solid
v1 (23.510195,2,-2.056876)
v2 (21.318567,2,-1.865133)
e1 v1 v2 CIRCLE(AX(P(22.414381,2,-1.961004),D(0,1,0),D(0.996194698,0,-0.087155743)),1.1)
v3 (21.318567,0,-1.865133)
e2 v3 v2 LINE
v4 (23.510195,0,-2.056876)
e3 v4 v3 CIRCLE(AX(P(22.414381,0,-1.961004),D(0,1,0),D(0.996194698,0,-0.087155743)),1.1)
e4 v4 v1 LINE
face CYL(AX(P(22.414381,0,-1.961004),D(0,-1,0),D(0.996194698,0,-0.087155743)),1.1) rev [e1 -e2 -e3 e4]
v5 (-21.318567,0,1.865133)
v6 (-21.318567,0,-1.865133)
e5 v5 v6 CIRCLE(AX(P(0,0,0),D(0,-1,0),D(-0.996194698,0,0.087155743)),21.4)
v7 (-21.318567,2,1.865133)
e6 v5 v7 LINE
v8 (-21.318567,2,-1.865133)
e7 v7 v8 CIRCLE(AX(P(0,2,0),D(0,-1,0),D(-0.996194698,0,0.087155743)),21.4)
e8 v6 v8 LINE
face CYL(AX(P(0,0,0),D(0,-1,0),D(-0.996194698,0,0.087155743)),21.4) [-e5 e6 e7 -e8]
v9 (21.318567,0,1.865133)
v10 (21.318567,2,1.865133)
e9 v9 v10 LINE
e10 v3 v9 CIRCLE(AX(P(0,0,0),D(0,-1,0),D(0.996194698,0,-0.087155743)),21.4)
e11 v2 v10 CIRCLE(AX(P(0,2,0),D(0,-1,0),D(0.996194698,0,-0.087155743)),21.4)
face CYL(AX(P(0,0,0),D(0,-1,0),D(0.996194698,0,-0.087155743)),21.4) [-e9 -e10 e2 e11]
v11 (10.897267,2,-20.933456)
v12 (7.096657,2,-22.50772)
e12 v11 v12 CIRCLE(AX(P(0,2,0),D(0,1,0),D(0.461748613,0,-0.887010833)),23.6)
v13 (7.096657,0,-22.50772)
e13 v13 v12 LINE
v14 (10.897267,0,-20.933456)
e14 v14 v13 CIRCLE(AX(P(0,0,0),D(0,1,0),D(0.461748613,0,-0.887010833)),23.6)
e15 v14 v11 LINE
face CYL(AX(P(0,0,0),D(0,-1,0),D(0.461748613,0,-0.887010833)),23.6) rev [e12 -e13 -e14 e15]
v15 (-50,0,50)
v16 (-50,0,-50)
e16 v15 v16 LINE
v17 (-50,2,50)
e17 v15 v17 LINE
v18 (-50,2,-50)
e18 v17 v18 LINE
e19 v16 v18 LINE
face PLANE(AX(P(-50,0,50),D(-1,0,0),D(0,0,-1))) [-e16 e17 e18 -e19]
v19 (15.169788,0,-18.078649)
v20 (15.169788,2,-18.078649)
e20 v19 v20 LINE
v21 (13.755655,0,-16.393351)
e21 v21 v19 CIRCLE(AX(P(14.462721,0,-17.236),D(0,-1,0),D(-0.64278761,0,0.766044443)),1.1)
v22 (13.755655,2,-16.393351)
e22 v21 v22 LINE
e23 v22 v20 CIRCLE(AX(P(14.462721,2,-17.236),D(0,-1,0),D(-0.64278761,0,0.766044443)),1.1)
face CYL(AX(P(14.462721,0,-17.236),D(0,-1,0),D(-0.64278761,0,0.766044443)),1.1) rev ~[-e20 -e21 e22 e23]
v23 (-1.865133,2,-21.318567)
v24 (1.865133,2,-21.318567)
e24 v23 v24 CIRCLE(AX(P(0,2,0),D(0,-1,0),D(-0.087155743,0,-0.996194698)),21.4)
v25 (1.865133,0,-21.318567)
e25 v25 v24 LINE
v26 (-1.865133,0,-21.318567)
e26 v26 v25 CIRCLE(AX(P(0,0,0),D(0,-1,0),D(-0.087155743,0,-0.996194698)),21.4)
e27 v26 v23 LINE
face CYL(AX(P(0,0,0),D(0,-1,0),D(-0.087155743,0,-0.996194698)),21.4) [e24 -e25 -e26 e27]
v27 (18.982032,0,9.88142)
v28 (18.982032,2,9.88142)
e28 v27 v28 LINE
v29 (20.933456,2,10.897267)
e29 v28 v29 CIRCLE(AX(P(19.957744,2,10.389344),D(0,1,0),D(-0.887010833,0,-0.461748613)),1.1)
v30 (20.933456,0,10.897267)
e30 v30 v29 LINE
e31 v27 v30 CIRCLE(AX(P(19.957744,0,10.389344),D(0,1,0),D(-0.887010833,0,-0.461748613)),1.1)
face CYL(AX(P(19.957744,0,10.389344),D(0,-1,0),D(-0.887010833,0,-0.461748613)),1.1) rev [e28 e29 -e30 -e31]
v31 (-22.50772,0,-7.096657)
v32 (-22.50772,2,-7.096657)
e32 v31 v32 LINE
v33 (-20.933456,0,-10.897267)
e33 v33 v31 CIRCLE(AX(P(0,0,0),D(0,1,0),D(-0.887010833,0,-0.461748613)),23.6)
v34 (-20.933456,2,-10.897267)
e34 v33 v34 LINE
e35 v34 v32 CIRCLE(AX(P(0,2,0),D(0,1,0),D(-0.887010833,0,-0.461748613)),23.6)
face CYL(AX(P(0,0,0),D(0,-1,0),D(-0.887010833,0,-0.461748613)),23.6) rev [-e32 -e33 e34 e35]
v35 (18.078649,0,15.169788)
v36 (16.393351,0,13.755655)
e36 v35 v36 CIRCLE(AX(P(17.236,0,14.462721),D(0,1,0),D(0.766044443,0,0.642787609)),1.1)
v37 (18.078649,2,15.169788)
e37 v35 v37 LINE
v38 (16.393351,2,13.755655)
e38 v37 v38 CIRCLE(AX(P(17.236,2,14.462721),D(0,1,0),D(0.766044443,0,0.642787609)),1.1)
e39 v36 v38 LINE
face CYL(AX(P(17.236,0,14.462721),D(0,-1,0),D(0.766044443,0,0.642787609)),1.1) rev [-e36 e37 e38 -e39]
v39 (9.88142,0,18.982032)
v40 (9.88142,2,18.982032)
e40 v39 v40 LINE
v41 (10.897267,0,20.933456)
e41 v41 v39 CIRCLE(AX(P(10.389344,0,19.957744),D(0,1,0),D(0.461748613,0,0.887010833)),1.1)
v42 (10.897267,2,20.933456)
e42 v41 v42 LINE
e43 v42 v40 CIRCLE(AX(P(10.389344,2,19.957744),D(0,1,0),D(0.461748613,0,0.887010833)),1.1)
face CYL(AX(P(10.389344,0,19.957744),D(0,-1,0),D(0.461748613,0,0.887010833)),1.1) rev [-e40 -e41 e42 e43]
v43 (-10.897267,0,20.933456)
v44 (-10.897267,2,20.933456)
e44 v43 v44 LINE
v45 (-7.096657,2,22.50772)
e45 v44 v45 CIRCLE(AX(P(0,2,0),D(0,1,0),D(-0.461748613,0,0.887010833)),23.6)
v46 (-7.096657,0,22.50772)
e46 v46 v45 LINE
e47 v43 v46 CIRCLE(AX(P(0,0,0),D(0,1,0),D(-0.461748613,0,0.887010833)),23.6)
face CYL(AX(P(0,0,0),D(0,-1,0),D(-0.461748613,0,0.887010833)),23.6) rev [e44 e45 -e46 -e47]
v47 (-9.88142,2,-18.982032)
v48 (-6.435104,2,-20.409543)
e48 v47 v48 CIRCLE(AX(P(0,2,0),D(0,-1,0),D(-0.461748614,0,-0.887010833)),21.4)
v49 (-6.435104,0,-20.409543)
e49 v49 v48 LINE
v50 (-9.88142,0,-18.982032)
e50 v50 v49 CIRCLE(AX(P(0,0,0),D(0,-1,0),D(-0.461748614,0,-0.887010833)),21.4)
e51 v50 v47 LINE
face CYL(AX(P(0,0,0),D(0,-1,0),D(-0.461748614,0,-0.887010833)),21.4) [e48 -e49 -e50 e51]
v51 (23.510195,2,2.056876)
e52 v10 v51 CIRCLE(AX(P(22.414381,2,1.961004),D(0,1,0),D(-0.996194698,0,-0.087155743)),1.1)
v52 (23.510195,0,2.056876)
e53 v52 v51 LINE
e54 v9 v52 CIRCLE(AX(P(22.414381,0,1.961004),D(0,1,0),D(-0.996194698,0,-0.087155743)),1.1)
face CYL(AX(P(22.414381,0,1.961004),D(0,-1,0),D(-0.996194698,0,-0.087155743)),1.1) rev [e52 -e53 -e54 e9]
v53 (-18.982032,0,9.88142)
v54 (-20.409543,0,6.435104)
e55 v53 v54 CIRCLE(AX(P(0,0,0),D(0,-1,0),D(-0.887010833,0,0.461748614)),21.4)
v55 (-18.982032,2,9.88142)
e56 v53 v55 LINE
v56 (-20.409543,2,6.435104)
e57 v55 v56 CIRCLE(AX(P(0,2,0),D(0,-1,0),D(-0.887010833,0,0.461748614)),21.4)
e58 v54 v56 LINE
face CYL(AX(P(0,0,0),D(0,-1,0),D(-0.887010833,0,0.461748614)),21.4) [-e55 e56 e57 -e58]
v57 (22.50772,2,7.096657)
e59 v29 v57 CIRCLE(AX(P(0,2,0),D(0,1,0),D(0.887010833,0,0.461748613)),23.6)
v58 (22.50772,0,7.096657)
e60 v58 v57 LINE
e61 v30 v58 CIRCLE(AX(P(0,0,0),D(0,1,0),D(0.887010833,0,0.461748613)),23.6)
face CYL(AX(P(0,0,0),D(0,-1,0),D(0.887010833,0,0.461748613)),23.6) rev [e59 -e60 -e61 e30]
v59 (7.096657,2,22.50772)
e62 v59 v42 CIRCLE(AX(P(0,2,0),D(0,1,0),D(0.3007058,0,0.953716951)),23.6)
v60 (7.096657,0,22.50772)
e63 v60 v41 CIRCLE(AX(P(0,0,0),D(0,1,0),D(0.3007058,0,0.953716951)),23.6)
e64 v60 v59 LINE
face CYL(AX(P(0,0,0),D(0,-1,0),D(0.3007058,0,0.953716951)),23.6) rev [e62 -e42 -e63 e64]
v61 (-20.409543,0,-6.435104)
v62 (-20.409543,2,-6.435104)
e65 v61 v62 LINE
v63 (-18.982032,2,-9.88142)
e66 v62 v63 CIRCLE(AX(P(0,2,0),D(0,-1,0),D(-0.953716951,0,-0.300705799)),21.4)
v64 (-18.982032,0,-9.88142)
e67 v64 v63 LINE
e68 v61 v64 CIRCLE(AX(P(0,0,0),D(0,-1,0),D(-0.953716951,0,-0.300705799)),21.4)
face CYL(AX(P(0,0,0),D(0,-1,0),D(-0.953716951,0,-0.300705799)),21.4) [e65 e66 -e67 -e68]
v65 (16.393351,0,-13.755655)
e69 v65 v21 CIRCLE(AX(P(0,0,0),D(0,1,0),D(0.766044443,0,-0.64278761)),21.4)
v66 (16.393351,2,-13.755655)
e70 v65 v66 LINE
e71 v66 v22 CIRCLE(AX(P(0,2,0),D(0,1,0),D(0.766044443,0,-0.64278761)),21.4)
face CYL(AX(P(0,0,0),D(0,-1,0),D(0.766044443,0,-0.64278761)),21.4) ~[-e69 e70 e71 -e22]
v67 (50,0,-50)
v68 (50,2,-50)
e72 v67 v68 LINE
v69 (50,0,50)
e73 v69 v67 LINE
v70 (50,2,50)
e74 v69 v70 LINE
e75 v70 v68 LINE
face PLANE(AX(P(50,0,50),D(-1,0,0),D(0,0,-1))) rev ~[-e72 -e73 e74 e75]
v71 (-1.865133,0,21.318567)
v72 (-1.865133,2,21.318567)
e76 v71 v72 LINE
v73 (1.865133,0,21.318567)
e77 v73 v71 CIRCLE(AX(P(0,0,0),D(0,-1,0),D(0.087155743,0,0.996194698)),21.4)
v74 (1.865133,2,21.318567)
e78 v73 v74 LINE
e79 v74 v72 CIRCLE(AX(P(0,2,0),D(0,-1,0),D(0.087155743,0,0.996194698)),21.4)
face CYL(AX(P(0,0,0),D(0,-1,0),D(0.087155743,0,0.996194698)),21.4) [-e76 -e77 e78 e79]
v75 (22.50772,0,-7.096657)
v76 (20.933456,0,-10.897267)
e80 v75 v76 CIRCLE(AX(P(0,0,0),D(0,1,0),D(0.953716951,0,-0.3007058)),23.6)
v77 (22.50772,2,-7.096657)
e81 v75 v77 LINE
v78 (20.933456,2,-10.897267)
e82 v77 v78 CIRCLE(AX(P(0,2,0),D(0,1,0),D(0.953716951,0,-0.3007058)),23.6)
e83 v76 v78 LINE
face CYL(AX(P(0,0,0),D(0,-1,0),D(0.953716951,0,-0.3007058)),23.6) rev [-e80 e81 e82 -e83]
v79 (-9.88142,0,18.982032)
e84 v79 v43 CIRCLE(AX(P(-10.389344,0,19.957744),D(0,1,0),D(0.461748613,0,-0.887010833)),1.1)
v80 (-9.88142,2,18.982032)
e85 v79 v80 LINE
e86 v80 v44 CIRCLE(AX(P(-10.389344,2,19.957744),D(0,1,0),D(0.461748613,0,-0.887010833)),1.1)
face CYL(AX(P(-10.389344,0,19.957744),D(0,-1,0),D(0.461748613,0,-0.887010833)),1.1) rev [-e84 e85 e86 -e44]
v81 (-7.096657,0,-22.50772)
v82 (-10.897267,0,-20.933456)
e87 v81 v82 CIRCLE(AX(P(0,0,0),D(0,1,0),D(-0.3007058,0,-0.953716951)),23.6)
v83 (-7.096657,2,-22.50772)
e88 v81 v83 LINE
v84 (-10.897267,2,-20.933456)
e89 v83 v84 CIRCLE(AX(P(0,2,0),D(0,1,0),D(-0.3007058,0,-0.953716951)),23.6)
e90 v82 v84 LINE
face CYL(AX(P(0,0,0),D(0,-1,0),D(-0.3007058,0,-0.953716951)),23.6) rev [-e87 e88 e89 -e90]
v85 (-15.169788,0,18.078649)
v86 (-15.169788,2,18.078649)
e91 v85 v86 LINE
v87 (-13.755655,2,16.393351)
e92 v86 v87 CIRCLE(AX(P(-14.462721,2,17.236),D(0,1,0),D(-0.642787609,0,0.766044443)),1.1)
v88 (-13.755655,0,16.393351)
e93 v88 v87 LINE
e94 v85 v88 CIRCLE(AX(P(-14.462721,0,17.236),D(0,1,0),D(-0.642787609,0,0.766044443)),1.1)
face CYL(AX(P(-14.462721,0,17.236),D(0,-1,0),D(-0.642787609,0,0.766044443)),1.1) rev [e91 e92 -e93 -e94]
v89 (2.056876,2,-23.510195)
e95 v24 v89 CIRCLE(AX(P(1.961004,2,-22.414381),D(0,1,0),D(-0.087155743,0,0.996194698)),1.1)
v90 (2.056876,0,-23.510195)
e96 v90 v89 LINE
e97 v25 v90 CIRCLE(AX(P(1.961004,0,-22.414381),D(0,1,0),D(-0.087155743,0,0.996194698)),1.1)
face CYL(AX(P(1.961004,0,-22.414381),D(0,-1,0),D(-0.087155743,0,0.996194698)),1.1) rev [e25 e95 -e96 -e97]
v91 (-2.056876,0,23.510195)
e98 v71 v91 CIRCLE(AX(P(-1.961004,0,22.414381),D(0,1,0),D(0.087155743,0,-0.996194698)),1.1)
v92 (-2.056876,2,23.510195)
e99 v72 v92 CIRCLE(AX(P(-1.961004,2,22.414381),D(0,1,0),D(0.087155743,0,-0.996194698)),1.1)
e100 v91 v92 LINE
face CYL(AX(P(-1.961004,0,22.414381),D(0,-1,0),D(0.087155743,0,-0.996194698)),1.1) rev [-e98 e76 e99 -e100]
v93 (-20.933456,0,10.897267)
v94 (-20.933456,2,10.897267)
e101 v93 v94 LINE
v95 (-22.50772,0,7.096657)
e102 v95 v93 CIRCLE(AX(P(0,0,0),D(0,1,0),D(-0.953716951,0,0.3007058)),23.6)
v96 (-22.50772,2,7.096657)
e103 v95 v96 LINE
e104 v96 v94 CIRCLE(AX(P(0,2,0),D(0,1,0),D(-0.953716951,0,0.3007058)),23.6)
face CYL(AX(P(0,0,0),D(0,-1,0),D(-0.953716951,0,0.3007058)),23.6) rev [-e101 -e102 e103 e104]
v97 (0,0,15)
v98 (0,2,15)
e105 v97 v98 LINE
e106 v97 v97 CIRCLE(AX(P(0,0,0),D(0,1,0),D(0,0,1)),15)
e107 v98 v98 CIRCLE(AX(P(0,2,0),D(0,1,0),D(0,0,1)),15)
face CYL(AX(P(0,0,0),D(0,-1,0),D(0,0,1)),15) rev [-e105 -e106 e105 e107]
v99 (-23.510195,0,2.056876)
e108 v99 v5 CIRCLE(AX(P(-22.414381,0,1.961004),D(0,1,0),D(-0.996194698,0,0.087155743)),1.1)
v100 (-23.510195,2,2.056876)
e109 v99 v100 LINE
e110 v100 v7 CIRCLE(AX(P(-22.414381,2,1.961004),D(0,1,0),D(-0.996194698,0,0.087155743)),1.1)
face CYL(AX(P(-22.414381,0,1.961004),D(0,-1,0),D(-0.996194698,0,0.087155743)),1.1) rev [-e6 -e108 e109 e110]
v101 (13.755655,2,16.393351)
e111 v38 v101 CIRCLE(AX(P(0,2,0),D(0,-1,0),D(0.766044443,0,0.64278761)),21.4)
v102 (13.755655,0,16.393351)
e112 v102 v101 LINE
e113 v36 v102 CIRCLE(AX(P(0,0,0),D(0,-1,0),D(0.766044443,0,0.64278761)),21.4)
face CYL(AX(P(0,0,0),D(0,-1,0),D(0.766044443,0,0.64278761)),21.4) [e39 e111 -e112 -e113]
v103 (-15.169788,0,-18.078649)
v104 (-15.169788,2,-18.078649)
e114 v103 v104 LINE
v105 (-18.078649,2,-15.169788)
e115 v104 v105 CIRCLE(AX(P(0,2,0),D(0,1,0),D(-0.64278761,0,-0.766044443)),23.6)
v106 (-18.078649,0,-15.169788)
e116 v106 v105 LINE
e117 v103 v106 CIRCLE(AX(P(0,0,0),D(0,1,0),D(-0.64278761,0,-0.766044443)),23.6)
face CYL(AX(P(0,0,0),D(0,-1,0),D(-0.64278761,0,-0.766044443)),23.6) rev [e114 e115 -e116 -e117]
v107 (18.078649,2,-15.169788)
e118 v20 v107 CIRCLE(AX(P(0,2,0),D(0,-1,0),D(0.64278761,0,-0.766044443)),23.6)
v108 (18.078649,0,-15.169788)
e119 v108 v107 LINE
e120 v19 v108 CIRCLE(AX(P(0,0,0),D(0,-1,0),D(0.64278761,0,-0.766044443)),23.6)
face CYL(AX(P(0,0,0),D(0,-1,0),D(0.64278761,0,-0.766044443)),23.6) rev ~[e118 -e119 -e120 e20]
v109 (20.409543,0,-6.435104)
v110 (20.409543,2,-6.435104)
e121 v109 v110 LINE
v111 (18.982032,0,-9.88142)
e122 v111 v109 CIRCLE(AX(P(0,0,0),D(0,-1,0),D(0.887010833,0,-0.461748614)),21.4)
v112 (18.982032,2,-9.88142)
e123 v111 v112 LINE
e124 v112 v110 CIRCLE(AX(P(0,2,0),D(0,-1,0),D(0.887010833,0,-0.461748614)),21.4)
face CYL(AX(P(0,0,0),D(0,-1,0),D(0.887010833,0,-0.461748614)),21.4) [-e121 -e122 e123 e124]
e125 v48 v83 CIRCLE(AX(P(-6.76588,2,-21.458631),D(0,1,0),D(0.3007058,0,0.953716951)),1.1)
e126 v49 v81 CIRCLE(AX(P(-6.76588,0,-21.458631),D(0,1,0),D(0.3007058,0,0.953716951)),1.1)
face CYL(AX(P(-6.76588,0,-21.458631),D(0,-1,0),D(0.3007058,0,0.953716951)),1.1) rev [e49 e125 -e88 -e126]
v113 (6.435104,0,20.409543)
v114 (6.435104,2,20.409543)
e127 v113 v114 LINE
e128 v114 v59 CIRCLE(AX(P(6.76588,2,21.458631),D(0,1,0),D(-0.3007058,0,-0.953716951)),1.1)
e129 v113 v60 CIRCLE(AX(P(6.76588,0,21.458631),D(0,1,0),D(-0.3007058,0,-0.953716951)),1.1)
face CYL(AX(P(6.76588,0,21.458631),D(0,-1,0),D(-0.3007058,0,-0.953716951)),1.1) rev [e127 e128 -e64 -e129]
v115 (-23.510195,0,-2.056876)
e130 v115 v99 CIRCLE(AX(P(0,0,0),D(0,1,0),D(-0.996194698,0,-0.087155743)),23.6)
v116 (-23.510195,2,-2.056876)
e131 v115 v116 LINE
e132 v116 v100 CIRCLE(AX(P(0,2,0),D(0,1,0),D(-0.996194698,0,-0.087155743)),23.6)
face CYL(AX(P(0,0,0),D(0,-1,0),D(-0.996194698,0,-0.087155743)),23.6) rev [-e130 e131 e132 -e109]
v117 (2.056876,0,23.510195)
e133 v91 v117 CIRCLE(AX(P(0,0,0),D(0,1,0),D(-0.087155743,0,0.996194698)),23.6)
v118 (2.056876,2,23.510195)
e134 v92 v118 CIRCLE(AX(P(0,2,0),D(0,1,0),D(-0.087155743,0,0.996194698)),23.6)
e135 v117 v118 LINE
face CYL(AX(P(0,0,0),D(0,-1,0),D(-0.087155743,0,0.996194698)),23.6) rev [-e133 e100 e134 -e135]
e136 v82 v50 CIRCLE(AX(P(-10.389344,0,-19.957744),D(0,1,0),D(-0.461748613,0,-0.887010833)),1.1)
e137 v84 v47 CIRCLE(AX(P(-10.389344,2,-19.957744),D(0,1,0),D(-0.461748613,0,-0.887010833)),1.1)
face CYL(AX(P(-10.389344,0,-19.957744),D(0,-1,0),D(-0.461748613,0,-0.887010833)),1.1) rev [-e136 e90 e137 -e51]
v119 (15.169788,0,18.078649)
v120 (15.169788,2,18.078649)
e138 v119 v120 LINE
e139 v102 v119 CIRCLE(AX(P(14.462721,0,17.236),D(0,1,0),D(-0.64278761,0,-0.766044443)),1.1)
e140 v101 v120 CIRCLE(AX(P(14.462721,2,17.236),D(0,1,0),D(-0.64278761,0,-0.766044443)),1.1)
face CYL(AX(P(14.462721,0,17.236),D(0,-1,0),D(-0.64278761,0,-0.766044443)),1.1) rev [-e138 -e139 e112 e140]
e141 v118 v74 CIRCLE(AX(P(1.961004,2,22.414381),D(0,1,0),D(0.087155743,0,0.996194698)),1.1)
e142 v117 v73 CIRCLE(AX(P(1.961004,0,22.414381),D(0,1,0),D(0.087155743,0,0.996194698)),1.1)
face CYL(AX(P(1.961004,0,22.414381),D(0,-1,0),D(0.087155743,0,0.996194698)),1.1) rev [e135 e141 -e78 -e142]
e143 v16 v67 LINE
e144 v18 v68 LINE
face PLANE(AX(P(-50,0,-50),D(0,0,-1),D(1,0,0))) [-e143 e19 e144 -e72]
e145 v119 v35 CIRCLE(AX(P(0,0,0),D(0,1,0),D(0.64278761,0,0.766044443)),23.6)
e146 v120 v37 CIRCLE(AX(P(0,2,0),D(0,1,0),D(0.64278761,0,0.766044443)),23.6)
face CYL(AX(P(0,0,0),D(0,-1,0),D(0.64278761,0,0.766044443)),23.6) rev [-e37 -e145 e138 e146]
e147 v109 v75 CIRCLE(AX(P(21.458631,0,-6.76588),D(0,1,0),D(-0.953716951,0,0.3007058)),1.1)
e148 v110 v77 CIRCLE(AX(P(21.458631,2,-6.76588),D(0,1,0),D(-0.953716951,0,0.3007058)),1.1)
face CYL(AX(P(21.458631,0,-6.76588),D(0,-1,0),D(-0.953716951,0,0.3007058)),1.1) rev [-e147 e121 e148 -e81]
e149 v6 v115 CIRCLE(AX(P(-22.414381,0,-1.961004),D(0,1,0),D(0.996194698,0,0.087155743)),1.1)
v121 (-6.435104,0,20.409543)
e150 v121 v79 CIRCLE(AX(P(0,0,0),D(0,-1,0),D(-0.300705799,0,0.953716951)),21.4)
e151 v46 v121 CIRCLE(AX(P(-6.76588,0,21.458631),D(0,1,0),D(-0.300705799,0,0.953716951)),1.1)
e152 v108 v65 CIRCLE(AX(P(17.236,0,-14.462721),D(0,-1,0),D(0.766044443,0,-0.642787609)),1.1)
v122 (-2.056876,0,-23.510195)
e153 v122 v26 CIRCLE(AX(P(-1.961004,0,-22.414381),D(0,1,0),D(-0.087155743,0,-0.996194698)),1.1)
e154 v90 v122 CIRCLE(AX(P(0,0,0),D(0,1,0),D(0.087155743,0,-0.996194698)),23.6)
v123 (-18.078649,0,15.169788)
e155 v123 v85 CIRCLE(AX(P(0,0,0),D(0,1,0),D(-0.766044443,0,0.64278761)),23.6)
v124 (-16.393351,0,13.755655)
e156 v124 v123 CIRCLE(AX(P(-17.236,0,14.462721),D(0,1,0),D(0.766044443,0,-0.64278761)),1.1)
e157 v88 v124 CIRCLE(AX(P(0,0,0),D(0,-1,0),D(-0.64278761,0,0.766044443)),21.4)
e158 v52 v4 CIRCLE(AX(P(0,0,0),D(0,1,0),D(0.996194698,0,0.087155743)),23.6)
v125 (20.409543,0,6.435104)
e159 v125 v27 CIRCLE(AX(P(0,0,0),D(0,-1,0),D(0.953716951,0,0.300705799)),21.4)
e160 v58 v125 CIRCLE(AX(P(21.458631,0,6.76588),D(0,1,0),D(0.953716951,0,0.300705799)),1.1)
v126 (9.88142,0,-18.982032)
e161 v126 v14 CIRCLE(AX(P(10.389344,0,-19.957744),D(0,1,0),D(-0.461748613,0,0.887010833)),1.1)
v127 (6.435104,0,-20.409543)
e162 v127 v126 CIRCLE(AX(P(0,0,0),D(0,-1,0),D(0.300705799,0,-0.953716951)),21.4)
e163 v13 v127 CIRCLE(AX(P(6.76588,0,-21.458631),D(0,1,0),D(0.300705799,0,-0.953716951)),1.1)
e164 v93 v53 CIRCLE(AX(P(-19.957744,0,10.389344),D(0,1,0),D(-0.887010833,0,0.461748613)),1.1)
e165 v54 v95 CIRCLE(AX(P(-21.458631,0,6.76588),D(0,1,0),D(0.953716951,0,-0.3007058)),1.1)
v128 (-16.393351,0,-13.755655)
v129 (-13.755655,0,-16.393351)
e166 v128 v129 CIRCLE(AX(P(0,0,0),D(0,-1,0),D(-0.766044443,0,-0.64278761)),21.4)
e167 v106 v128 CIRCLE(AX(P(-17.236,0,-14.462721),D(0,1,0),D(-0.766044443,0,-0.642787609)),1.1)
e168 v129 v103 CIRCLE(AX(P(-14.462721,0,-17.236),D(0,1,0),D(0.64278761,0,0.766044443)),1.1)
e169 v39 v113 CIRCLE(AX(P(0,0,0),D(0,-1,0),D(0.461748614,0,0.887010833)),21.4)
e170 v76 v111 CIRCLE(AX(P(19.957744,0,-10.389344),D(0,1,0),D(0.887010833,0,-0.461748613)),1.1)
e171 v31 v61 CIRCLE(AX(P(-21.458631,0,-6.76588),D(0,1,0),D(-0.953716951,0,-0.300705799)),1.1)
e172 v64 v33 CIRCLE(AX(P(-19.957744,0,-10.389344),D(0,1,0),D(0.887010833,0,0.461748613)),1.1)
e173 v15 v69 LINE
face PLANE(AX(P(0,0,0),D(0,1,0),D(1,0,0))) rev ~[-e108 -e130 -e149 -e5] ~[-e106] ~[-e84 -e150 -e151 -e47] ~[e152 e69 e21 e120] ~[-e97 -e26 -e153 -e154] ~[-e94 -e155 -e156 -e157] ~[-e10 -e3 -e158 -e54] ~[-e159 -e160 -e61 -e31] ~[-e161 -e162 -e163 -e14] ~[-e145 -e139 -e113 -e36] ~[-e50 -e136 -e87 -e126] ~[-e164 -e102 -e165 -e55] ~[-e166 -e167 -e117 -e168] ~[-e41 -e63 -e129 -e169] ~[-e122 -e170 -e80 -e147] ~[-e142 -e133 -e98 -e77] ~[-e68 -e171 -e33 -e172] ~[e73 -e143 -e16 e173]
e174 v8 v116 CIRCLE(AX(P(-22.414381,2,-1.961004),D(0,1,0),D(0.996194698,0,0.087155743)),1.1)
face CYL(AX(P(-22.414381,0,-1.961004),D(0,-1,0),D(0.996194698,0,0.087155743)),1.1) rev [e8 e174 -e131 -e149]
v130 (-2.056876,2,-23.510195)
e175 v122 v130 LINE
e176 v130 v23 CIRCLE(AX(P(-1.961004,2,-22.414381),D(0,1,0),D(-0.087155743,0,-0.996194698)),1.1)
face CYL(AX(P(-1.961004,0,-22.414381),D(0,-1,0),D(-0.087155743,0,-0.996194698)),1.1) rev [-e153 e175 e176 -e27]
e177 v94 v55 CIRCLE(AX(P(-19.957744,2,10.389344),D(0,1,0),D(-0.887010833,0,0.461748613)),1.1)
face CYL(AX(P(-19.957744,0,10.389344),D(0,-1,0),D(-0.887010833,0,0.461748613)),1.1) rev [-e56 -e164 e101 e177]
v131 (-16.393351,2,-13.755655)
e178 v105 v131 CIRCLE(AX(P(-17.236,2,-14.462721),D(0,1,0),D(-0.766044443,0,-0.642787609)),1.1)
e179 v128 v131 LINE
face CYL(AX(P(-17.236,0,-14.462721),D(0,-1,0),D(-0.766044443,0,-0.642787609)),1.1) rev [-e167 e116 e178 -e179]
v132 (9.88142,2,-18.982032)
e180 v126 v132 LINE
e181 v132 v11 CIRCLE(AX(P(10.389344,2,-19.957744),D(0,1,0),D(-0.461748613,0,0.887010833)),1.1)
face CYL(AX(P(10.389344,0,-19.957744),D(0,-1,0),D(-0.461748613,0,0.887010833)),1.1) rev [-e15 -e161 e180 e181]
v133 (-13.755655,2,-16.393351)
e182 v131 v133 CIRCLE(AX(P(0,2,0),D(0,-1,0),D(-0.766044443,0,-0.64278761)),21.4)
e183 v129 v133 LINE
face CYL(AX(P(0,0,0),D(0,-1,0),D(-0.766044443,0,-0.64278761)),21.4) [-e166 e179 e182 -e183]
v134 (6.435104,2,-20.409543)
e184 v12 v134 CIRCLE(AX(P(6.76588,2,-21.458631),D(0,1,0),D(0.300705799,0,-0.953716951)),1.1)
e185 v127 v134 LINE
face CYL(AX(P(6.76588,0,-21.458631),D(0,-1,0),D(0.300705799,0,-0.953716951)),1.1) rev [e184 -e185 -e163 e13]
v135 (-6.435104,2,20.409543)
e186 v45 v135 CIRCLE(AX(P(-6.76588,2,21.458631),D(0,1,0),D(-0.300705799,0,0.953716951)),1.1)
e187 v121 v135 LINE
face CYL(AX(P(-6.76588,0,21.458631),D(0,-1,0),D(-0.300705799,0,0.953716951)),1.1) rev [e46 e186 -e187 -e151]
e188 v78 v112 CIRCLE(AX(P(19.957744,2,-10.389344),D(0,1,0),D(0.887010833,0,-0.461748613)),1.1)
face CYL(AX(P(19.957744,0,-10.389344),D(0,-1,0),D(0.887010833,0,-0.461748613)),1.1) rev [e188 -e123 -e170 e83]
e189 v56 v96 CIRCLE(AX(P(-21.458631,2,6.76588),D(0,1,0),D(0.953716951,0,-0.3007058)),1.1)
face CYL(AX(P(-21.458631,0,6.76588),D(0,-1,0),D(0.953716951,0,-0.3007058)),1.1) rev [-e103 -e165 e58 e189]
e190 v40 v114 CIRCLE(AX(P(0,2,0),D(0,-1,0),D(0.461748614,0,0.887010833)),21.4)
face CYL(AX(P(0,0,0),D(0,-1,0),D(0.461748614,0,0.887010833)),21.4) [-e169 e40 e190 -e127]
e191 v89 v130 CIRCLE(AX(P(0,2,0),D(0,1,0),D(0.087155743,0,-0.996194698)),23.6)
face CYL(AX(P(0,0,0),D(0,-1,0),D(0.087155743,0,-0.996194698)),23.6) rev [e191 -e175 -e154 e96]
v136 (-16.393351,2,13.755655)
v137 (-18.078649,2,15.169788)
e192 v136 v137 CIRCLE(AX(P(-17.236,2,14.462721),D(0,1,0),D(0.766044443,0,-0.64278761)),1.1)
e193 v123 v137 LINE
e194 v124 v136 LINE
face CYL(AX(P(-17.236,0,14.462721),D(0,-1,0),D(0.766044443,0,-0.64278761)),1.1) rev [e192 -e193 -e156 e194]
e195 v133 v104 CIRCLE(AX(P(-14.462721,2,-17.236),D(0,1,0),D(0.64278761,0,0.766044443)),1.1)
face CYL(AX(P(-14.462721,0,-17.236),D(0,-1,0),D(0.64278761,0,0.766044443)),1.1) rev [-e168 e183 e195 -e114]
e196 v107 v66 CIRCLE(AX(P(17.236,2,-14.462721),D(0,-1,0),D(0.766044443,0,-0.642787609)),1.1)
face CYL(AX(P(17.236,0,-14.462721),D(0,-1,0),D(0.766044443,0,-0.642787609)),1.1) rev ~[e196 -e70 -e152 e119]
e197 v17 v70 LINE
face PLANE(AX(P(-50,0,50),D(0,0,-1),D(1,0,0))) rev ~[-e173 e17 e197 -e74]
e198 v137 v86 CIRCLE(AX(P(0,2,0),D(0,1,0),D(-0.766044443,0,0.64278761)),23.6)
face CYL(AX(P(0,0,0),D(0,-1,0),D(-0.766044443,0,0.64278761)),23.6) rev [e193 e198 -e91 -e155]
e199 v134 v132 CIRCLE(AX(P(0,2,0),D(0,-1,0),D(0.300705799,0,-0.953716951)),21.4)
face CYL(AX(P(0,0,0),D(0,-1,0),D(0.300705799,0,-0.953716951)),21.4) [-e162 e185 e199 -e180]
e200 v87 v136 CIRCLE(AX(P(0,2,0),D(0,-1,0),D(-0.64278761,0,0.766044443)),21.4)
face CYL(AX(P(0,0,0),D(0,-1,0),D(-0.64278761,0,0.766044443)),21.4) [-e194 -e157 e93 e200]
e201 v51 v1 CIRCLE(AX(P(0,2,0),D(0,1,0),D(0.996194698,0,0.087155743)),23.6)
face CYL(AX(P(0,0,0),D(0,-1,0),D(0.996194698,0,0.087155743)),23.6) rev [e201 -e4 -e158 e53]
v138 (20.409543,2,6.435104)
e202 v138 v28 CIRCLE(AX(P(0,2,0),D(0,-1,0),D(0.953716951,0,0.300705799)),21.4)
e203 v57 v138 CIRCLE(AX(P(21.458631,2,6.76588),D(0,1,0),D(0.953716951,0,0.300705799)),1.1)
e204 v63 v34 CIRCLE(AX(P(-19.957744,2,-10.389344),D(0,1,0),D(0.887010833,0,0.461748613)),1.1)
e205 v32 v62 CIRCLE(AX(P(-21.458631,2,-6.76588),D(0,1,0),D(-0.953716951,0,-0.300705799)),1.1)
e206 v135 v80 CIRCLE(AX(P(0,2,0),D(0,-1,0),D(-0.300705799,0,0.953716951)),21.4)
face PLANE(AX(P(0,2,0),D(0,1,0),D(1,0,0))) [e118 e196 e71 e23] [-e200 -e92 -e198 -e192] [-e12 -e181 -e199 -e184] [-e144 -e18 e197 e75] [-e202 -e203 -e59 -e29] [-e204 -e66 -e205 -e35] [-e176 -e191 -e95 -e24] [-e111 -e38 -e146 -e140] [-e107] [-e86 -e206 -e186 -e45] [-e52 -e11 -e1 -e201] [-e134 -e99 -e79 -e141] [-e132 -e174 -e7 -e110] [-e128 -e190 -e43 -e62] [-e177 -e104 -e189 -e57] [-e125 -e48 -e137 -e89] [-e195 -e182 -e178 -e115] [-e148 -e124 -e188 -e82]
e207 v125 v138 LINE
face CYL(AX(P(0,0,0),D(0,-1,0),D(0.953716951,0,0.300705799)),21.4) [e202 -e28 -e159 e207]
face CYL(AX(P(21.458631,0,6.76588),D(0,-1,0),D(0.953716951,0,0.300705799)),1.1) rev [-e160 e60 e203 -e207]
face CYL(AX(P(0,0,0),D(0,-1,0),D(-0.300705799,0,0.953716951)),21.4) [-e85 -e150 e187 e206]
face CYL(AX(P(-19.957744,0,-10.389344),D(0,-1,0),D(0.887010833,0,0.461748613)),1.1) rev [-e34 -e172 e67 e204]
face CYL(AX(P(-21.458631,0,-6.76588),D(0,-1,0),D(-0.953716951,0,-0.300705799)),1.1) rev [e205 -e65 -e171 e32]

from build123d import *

# Parameters (mm, degrees)
SKETCH_1_W      = 100
SKETCH_1_H      = 100
SKETCH_1_R      = 15
EXTRUDE_1_DEPTH = 2


with BuildPart() as part:
    # 草图1 → 凸台-拉伸1 (new body)
    with BuildSketch(Plane(origin=(0, 0, 0), x_dir=(1, 0, 0), z_dir=(0, 1, 0))):
        Rectangle(SKETCH_1_W, SKETCH_1_H)
        with Locations(Location((0, 0, 0), (0, 0, 270))):
            Circle(SKETCH_1_R, mode=Mode.SUBTRACT)
        with BuildLine():
            ThreePointArc((16.393351083, 13.755654847), (15.132085117, 15.132085117), (13.755654847, 16.393351083))
            ThreePointArc((13.755654847, 16.393351083), (13.620072331, 17.943066341), (15.169787589, 18.078648858))
            ThreePointArc((15.169787589, 18.078648858), (16.687720036, 16.687720036), (18.078648858, 15.169787589))
            ThreePointArc((18.078648858, 15.169787589), (17.943066341, 13.620072331), (16.393351083, 13.755654847))
        make_face(mode=Mode.SUBTRACT)
        with BuildLine():
            ThreePointArc((20.933455663, 10.897267272), (19.449820272, 11.365055714), (18.98203183, 9.881420323))
            ThreePointArc((18.98203183, 9.881420323), (19.771021996, 8.189425453), (20.409542746, 6.435104109))
            ThreePointArc((20.409542746, 6.435104109), (21.789407771, 5.716791843), (22.507720038, 7.096656868))
            ThreePointArc((22.507720038, 7.096656868), (21.803556967, 9.031329004), (20.933455663, 10.897267272))
        make_face(mode=Mode.SUBTRACT)
        with BuildLine():
            ThreePointArc((23.510194875, 2.056875529), (22.31850939, 3.05681838), (21.318566539, 1.865132895))
            ThreePointArc((21.318566539, 1.865132895), (21.4, 0), (21.318566539, -1.865132895))
            ThreePointArc((21.318566539, -1.865132895), (22.31850939, -3.05681838), (23.510194875, -2.056875529))
            ThreePointArc((23.510194875, -2.056875529), (23.6, 0), (23.510194875, 2.056875529))
        make_face(mode=Mode.SUBTRACT)
        with BuildLine():
            ThreePointArc((22.507720038, -7.096656868), (21.789407771, -5.716791843), (20.409542746, -6.435104109))
            ThreePointArc((20.409542746, -6.435104109), (19.771021996, -8.189425453), (18.98203183, -9.881420323))
            ThreePointArc((18.98203183, -9.881420323), (19.449820272, -11.365055714), (20.933455663, -10.897267272))
            ThreePointArc((20.933455663, -10.897267272), (21.803556967, -9.031329004), (22.507720038, -7.096656868))
        make_face(mode=Mode.SUBTRACT)
        with BuildLine():
            ThreePointArc((18.078648858, -15.169787589), (17.943066341, -13.620072331), (16.393351083, -13.755654847))
            ThreePointArc((16.393351083, -13.755654847), (15.132085117, -15.132085117), (13.755654847, -16.393351083))
            ThreePointArc((13.755654847, -16.393351083), (13.620072331, -17.943066341), (15.169787589, -18.078648858))
            ThreePointArc((15.169787589, -18.078648858), (16.687720036, -16.687720036), (18.078648858, -15.169787589))
        make_face(mode=Mode.SUBTRACT)
        with BuildLine():
            ThreePointArc((10.897267272, -20.933455663), (11.365055714, -19.449820272), (9.881420323, -18.98203183))
            ThreePointArc((9.881420323, -18.98203183), (8.189425453, -19.771021996), (6.435104109, -20.409542746))
            ThreePointArc((6.435104109, -20.409542746), (5.716791843, -21.789407771), (7.096656868, -22.507720038))
            ThreePointArc((7.096656868, -22.507720038), (9.031329004, -21.803556967), (10.897267272, -20.933455663))
        make_face(mode=Mode.SUBTRACT)
        with BuildLine():
            ThreePointArc((2.056875529, -23.510194875), (3.05681838, -22.31850939), (1.865132895, -21.318566539))
            ThreePointArc((1.865132895, -21.318566539), (0, -21.4), (-1.865132895, -21.318566539))
            ThreePointArc((-1.865132895, -21.318566539), (-3.05681838, -22.31850939), (-2.056875529, -23.510194875))
            ThreePointArc((-2.056875529, -23.510194875), (0, -23.6), (2.056875529, -23.510194875))
        make_face(mode=Mode.SUBTRACT)
        with BuildLine():
            ThreePointArc((-7.096656868, -22.507720038), (-5.716791843, -21.789407771), (-6.435104109, -20.409542746))
            ThreePointArc((-6.435104109, -20.409542746), (-8.189425453, -19.771021996), (-9.881420323, -18.98203183))
            ThreePointArc((-9.881420323, -18.98203183), (-11.365055714, -19.449820272), (-10.897267272, -20.933455663))
            ThreePointArc((-10.897267272, -20.933455663), (-9.031329004, -21.803556967), (-7.096656868, -22.507720038))
        make_face(mode=Mode.SUBTRACT)
        with BuildLine():
            ThreePointArc((-15.169787589, -18.078648858), (-13.620072331, -17.943066341), (-13.755654847, -16.393351083))
            ThreePointArc((-13.755654847, -16.393351083), (-15.132085117, -15.132085117), (-16.393351083, -13.755654847))
            ThreePointArc((-16.393351083, -13.755654847), (-17.943066341, -13.620072331), (-18.078648858, -15.169787589))
            ThreePointArc((-18.078648858, -15.169787589), (-16.687720036, -16.687720036), (-15.169787589, -18.078648858))
        make_face(mode=Mode.SUBTRACT)
        with BuildLine():
            ThreePointArc((-20.933455663, -10.897267272), (-19.449820272, -11.365055714), (-18.98203183, -9.881420323))
            ThreePointArc((-18.98203183, -9.881420323), (-19.771021996, -8.189425453), (-20.409542746, -6.435104109))
            ThreePointArc((-20.409542746, -6.435104109), (-21.789407771, -5.716791843), (-22.507720038, -7.096656868))
            ThreePointArc((-22.507720038, -7.096656868), (-21.803556967, -9.031329004), (-20.933455663, -10.897267272))
        make_face(mode=Mode.SUBTRACT)
        with BuildLine():
            ThreePointArc((-23.510194875, -2.056875529), (-22.31850939, -3.05681838), (-21.318566539, -1.865132895))
            ThreePointArc((-21.318566539, -1.865132895), (-21.4, 0), (-21.318566539, 1.865132895))
            ThreePointArc((-21.318566539, 1.865132895), (-22.31850939, 3.05681838), (-23.510194875, 2.056875529))
            ThreePointArc((-23.510194875, 2.056875529), (-23.6, 0), (-23.510194875, -2.056875529))
        make_face(mode=Mode.SUBTRACT)
        with BuildLine():
            ThreePointArc((-22.507720038, 7.096656868), (-21.789407771, 5.716791843), (-20.409542746, 6.435104109))
            ThreePointArc((-20.409542746, 6.435104109), (-19.771021996, 8.189425453), (-18.98203183, 9.881420323))
            ThreePointArc((-18.98203183, 9.881420323), (-19.449820272, 11.365055714), (-20.933455663, 10.897267272))
            ThreePointArc((-20.933455663, 10.897267272), (-21.803556967, 9.031329004), (-22.507720038, 7.096656868))
        make_face(mode=Mode.SUBTRACT)
        with BuildLine():
            ThreePointArc((-18.078648858, 15.169787589), (-17.943066341, 13.620072331), (-16.393351083, 13.755654847))
            ThreePointArc((-16.393351083, 13.755654847), (-15.132085117, 15.132085117), (-13.755654847, 16.393351083))
            ThreePointArc((-13.755654847, 16.393351083), (-13.620072331, 17.943066341), (-15.169787589, 18.078648858))
            ThreePointArc((-15.169787589, 18.078648858), (-16.687720036, 16.687720036), (-18.078648858, 15.169787589))
        make_face(mode=Mode.SUBTRACT)
        with BuildLine():
            ThreePointArc((-10.897267272, 20.933455663), (-11.365055714, 19.449820272), (-9.881420323, 18.98203183))
            ThreePointArc((-9.881420323, 18.98203183), (-8.189425453, 19.771021996), (-6.435104109, 20.409542746))
            ThreePointArc((-6.435104109, 20.409542746), (-5.716791843, 21.789407771), (-7.096656868, 22.507720038))
            ThreePointArc((-7.096656868, 22.507720038), (-9.031329004, 21.803556967), (-10.897267272, 20.933455663))
        make_face(mode=Mode.SUBTRACT)
        with BuildLine():
            ThreePointArc((-2.056875529, 23.510194875), (-3.05681838, 22.31850939), (-1.865132895, 21.318566539))
            ThreePointArc((-1.865132895, 21.318566539), (0, 21.4), (1.865132895, 21.318566539))
            ThreePointArc((1.865132895, 21.318566539), (3.05681838, 22.31850939), (2.056875529, 23.510194875))
            ThreePointArc((2.056875529, 23.510194875), (0, 23.6), (-2.056875529, 23.510194875))
        make_face(mode=Mode.SUBTRACT)
        with BuildLine():
            ThreePointArc((7.096656868, 22.507720038), (5.716791843, 21.789407771), (6.435104109, 20.409542746))
            ThreePointArc((6.435104109, 20.409542746), (8.189425453, 19.771021996), (9.881420323, 18.98203183))
            ThreePointArc((9.881420323, 18.98203183), (11.365055714, 19.449820272), (10.897267272, 20.933455663))
            ThreePointArc((10.897267272, 20.933455663), (9.031329004, 21.803556967), (7.096656868, 22.507720038))
        make_face(mode=Mode.SUBTRACT)
    extrude(amount=EXTRUDE_1_DEPTH)


solid = part.part
